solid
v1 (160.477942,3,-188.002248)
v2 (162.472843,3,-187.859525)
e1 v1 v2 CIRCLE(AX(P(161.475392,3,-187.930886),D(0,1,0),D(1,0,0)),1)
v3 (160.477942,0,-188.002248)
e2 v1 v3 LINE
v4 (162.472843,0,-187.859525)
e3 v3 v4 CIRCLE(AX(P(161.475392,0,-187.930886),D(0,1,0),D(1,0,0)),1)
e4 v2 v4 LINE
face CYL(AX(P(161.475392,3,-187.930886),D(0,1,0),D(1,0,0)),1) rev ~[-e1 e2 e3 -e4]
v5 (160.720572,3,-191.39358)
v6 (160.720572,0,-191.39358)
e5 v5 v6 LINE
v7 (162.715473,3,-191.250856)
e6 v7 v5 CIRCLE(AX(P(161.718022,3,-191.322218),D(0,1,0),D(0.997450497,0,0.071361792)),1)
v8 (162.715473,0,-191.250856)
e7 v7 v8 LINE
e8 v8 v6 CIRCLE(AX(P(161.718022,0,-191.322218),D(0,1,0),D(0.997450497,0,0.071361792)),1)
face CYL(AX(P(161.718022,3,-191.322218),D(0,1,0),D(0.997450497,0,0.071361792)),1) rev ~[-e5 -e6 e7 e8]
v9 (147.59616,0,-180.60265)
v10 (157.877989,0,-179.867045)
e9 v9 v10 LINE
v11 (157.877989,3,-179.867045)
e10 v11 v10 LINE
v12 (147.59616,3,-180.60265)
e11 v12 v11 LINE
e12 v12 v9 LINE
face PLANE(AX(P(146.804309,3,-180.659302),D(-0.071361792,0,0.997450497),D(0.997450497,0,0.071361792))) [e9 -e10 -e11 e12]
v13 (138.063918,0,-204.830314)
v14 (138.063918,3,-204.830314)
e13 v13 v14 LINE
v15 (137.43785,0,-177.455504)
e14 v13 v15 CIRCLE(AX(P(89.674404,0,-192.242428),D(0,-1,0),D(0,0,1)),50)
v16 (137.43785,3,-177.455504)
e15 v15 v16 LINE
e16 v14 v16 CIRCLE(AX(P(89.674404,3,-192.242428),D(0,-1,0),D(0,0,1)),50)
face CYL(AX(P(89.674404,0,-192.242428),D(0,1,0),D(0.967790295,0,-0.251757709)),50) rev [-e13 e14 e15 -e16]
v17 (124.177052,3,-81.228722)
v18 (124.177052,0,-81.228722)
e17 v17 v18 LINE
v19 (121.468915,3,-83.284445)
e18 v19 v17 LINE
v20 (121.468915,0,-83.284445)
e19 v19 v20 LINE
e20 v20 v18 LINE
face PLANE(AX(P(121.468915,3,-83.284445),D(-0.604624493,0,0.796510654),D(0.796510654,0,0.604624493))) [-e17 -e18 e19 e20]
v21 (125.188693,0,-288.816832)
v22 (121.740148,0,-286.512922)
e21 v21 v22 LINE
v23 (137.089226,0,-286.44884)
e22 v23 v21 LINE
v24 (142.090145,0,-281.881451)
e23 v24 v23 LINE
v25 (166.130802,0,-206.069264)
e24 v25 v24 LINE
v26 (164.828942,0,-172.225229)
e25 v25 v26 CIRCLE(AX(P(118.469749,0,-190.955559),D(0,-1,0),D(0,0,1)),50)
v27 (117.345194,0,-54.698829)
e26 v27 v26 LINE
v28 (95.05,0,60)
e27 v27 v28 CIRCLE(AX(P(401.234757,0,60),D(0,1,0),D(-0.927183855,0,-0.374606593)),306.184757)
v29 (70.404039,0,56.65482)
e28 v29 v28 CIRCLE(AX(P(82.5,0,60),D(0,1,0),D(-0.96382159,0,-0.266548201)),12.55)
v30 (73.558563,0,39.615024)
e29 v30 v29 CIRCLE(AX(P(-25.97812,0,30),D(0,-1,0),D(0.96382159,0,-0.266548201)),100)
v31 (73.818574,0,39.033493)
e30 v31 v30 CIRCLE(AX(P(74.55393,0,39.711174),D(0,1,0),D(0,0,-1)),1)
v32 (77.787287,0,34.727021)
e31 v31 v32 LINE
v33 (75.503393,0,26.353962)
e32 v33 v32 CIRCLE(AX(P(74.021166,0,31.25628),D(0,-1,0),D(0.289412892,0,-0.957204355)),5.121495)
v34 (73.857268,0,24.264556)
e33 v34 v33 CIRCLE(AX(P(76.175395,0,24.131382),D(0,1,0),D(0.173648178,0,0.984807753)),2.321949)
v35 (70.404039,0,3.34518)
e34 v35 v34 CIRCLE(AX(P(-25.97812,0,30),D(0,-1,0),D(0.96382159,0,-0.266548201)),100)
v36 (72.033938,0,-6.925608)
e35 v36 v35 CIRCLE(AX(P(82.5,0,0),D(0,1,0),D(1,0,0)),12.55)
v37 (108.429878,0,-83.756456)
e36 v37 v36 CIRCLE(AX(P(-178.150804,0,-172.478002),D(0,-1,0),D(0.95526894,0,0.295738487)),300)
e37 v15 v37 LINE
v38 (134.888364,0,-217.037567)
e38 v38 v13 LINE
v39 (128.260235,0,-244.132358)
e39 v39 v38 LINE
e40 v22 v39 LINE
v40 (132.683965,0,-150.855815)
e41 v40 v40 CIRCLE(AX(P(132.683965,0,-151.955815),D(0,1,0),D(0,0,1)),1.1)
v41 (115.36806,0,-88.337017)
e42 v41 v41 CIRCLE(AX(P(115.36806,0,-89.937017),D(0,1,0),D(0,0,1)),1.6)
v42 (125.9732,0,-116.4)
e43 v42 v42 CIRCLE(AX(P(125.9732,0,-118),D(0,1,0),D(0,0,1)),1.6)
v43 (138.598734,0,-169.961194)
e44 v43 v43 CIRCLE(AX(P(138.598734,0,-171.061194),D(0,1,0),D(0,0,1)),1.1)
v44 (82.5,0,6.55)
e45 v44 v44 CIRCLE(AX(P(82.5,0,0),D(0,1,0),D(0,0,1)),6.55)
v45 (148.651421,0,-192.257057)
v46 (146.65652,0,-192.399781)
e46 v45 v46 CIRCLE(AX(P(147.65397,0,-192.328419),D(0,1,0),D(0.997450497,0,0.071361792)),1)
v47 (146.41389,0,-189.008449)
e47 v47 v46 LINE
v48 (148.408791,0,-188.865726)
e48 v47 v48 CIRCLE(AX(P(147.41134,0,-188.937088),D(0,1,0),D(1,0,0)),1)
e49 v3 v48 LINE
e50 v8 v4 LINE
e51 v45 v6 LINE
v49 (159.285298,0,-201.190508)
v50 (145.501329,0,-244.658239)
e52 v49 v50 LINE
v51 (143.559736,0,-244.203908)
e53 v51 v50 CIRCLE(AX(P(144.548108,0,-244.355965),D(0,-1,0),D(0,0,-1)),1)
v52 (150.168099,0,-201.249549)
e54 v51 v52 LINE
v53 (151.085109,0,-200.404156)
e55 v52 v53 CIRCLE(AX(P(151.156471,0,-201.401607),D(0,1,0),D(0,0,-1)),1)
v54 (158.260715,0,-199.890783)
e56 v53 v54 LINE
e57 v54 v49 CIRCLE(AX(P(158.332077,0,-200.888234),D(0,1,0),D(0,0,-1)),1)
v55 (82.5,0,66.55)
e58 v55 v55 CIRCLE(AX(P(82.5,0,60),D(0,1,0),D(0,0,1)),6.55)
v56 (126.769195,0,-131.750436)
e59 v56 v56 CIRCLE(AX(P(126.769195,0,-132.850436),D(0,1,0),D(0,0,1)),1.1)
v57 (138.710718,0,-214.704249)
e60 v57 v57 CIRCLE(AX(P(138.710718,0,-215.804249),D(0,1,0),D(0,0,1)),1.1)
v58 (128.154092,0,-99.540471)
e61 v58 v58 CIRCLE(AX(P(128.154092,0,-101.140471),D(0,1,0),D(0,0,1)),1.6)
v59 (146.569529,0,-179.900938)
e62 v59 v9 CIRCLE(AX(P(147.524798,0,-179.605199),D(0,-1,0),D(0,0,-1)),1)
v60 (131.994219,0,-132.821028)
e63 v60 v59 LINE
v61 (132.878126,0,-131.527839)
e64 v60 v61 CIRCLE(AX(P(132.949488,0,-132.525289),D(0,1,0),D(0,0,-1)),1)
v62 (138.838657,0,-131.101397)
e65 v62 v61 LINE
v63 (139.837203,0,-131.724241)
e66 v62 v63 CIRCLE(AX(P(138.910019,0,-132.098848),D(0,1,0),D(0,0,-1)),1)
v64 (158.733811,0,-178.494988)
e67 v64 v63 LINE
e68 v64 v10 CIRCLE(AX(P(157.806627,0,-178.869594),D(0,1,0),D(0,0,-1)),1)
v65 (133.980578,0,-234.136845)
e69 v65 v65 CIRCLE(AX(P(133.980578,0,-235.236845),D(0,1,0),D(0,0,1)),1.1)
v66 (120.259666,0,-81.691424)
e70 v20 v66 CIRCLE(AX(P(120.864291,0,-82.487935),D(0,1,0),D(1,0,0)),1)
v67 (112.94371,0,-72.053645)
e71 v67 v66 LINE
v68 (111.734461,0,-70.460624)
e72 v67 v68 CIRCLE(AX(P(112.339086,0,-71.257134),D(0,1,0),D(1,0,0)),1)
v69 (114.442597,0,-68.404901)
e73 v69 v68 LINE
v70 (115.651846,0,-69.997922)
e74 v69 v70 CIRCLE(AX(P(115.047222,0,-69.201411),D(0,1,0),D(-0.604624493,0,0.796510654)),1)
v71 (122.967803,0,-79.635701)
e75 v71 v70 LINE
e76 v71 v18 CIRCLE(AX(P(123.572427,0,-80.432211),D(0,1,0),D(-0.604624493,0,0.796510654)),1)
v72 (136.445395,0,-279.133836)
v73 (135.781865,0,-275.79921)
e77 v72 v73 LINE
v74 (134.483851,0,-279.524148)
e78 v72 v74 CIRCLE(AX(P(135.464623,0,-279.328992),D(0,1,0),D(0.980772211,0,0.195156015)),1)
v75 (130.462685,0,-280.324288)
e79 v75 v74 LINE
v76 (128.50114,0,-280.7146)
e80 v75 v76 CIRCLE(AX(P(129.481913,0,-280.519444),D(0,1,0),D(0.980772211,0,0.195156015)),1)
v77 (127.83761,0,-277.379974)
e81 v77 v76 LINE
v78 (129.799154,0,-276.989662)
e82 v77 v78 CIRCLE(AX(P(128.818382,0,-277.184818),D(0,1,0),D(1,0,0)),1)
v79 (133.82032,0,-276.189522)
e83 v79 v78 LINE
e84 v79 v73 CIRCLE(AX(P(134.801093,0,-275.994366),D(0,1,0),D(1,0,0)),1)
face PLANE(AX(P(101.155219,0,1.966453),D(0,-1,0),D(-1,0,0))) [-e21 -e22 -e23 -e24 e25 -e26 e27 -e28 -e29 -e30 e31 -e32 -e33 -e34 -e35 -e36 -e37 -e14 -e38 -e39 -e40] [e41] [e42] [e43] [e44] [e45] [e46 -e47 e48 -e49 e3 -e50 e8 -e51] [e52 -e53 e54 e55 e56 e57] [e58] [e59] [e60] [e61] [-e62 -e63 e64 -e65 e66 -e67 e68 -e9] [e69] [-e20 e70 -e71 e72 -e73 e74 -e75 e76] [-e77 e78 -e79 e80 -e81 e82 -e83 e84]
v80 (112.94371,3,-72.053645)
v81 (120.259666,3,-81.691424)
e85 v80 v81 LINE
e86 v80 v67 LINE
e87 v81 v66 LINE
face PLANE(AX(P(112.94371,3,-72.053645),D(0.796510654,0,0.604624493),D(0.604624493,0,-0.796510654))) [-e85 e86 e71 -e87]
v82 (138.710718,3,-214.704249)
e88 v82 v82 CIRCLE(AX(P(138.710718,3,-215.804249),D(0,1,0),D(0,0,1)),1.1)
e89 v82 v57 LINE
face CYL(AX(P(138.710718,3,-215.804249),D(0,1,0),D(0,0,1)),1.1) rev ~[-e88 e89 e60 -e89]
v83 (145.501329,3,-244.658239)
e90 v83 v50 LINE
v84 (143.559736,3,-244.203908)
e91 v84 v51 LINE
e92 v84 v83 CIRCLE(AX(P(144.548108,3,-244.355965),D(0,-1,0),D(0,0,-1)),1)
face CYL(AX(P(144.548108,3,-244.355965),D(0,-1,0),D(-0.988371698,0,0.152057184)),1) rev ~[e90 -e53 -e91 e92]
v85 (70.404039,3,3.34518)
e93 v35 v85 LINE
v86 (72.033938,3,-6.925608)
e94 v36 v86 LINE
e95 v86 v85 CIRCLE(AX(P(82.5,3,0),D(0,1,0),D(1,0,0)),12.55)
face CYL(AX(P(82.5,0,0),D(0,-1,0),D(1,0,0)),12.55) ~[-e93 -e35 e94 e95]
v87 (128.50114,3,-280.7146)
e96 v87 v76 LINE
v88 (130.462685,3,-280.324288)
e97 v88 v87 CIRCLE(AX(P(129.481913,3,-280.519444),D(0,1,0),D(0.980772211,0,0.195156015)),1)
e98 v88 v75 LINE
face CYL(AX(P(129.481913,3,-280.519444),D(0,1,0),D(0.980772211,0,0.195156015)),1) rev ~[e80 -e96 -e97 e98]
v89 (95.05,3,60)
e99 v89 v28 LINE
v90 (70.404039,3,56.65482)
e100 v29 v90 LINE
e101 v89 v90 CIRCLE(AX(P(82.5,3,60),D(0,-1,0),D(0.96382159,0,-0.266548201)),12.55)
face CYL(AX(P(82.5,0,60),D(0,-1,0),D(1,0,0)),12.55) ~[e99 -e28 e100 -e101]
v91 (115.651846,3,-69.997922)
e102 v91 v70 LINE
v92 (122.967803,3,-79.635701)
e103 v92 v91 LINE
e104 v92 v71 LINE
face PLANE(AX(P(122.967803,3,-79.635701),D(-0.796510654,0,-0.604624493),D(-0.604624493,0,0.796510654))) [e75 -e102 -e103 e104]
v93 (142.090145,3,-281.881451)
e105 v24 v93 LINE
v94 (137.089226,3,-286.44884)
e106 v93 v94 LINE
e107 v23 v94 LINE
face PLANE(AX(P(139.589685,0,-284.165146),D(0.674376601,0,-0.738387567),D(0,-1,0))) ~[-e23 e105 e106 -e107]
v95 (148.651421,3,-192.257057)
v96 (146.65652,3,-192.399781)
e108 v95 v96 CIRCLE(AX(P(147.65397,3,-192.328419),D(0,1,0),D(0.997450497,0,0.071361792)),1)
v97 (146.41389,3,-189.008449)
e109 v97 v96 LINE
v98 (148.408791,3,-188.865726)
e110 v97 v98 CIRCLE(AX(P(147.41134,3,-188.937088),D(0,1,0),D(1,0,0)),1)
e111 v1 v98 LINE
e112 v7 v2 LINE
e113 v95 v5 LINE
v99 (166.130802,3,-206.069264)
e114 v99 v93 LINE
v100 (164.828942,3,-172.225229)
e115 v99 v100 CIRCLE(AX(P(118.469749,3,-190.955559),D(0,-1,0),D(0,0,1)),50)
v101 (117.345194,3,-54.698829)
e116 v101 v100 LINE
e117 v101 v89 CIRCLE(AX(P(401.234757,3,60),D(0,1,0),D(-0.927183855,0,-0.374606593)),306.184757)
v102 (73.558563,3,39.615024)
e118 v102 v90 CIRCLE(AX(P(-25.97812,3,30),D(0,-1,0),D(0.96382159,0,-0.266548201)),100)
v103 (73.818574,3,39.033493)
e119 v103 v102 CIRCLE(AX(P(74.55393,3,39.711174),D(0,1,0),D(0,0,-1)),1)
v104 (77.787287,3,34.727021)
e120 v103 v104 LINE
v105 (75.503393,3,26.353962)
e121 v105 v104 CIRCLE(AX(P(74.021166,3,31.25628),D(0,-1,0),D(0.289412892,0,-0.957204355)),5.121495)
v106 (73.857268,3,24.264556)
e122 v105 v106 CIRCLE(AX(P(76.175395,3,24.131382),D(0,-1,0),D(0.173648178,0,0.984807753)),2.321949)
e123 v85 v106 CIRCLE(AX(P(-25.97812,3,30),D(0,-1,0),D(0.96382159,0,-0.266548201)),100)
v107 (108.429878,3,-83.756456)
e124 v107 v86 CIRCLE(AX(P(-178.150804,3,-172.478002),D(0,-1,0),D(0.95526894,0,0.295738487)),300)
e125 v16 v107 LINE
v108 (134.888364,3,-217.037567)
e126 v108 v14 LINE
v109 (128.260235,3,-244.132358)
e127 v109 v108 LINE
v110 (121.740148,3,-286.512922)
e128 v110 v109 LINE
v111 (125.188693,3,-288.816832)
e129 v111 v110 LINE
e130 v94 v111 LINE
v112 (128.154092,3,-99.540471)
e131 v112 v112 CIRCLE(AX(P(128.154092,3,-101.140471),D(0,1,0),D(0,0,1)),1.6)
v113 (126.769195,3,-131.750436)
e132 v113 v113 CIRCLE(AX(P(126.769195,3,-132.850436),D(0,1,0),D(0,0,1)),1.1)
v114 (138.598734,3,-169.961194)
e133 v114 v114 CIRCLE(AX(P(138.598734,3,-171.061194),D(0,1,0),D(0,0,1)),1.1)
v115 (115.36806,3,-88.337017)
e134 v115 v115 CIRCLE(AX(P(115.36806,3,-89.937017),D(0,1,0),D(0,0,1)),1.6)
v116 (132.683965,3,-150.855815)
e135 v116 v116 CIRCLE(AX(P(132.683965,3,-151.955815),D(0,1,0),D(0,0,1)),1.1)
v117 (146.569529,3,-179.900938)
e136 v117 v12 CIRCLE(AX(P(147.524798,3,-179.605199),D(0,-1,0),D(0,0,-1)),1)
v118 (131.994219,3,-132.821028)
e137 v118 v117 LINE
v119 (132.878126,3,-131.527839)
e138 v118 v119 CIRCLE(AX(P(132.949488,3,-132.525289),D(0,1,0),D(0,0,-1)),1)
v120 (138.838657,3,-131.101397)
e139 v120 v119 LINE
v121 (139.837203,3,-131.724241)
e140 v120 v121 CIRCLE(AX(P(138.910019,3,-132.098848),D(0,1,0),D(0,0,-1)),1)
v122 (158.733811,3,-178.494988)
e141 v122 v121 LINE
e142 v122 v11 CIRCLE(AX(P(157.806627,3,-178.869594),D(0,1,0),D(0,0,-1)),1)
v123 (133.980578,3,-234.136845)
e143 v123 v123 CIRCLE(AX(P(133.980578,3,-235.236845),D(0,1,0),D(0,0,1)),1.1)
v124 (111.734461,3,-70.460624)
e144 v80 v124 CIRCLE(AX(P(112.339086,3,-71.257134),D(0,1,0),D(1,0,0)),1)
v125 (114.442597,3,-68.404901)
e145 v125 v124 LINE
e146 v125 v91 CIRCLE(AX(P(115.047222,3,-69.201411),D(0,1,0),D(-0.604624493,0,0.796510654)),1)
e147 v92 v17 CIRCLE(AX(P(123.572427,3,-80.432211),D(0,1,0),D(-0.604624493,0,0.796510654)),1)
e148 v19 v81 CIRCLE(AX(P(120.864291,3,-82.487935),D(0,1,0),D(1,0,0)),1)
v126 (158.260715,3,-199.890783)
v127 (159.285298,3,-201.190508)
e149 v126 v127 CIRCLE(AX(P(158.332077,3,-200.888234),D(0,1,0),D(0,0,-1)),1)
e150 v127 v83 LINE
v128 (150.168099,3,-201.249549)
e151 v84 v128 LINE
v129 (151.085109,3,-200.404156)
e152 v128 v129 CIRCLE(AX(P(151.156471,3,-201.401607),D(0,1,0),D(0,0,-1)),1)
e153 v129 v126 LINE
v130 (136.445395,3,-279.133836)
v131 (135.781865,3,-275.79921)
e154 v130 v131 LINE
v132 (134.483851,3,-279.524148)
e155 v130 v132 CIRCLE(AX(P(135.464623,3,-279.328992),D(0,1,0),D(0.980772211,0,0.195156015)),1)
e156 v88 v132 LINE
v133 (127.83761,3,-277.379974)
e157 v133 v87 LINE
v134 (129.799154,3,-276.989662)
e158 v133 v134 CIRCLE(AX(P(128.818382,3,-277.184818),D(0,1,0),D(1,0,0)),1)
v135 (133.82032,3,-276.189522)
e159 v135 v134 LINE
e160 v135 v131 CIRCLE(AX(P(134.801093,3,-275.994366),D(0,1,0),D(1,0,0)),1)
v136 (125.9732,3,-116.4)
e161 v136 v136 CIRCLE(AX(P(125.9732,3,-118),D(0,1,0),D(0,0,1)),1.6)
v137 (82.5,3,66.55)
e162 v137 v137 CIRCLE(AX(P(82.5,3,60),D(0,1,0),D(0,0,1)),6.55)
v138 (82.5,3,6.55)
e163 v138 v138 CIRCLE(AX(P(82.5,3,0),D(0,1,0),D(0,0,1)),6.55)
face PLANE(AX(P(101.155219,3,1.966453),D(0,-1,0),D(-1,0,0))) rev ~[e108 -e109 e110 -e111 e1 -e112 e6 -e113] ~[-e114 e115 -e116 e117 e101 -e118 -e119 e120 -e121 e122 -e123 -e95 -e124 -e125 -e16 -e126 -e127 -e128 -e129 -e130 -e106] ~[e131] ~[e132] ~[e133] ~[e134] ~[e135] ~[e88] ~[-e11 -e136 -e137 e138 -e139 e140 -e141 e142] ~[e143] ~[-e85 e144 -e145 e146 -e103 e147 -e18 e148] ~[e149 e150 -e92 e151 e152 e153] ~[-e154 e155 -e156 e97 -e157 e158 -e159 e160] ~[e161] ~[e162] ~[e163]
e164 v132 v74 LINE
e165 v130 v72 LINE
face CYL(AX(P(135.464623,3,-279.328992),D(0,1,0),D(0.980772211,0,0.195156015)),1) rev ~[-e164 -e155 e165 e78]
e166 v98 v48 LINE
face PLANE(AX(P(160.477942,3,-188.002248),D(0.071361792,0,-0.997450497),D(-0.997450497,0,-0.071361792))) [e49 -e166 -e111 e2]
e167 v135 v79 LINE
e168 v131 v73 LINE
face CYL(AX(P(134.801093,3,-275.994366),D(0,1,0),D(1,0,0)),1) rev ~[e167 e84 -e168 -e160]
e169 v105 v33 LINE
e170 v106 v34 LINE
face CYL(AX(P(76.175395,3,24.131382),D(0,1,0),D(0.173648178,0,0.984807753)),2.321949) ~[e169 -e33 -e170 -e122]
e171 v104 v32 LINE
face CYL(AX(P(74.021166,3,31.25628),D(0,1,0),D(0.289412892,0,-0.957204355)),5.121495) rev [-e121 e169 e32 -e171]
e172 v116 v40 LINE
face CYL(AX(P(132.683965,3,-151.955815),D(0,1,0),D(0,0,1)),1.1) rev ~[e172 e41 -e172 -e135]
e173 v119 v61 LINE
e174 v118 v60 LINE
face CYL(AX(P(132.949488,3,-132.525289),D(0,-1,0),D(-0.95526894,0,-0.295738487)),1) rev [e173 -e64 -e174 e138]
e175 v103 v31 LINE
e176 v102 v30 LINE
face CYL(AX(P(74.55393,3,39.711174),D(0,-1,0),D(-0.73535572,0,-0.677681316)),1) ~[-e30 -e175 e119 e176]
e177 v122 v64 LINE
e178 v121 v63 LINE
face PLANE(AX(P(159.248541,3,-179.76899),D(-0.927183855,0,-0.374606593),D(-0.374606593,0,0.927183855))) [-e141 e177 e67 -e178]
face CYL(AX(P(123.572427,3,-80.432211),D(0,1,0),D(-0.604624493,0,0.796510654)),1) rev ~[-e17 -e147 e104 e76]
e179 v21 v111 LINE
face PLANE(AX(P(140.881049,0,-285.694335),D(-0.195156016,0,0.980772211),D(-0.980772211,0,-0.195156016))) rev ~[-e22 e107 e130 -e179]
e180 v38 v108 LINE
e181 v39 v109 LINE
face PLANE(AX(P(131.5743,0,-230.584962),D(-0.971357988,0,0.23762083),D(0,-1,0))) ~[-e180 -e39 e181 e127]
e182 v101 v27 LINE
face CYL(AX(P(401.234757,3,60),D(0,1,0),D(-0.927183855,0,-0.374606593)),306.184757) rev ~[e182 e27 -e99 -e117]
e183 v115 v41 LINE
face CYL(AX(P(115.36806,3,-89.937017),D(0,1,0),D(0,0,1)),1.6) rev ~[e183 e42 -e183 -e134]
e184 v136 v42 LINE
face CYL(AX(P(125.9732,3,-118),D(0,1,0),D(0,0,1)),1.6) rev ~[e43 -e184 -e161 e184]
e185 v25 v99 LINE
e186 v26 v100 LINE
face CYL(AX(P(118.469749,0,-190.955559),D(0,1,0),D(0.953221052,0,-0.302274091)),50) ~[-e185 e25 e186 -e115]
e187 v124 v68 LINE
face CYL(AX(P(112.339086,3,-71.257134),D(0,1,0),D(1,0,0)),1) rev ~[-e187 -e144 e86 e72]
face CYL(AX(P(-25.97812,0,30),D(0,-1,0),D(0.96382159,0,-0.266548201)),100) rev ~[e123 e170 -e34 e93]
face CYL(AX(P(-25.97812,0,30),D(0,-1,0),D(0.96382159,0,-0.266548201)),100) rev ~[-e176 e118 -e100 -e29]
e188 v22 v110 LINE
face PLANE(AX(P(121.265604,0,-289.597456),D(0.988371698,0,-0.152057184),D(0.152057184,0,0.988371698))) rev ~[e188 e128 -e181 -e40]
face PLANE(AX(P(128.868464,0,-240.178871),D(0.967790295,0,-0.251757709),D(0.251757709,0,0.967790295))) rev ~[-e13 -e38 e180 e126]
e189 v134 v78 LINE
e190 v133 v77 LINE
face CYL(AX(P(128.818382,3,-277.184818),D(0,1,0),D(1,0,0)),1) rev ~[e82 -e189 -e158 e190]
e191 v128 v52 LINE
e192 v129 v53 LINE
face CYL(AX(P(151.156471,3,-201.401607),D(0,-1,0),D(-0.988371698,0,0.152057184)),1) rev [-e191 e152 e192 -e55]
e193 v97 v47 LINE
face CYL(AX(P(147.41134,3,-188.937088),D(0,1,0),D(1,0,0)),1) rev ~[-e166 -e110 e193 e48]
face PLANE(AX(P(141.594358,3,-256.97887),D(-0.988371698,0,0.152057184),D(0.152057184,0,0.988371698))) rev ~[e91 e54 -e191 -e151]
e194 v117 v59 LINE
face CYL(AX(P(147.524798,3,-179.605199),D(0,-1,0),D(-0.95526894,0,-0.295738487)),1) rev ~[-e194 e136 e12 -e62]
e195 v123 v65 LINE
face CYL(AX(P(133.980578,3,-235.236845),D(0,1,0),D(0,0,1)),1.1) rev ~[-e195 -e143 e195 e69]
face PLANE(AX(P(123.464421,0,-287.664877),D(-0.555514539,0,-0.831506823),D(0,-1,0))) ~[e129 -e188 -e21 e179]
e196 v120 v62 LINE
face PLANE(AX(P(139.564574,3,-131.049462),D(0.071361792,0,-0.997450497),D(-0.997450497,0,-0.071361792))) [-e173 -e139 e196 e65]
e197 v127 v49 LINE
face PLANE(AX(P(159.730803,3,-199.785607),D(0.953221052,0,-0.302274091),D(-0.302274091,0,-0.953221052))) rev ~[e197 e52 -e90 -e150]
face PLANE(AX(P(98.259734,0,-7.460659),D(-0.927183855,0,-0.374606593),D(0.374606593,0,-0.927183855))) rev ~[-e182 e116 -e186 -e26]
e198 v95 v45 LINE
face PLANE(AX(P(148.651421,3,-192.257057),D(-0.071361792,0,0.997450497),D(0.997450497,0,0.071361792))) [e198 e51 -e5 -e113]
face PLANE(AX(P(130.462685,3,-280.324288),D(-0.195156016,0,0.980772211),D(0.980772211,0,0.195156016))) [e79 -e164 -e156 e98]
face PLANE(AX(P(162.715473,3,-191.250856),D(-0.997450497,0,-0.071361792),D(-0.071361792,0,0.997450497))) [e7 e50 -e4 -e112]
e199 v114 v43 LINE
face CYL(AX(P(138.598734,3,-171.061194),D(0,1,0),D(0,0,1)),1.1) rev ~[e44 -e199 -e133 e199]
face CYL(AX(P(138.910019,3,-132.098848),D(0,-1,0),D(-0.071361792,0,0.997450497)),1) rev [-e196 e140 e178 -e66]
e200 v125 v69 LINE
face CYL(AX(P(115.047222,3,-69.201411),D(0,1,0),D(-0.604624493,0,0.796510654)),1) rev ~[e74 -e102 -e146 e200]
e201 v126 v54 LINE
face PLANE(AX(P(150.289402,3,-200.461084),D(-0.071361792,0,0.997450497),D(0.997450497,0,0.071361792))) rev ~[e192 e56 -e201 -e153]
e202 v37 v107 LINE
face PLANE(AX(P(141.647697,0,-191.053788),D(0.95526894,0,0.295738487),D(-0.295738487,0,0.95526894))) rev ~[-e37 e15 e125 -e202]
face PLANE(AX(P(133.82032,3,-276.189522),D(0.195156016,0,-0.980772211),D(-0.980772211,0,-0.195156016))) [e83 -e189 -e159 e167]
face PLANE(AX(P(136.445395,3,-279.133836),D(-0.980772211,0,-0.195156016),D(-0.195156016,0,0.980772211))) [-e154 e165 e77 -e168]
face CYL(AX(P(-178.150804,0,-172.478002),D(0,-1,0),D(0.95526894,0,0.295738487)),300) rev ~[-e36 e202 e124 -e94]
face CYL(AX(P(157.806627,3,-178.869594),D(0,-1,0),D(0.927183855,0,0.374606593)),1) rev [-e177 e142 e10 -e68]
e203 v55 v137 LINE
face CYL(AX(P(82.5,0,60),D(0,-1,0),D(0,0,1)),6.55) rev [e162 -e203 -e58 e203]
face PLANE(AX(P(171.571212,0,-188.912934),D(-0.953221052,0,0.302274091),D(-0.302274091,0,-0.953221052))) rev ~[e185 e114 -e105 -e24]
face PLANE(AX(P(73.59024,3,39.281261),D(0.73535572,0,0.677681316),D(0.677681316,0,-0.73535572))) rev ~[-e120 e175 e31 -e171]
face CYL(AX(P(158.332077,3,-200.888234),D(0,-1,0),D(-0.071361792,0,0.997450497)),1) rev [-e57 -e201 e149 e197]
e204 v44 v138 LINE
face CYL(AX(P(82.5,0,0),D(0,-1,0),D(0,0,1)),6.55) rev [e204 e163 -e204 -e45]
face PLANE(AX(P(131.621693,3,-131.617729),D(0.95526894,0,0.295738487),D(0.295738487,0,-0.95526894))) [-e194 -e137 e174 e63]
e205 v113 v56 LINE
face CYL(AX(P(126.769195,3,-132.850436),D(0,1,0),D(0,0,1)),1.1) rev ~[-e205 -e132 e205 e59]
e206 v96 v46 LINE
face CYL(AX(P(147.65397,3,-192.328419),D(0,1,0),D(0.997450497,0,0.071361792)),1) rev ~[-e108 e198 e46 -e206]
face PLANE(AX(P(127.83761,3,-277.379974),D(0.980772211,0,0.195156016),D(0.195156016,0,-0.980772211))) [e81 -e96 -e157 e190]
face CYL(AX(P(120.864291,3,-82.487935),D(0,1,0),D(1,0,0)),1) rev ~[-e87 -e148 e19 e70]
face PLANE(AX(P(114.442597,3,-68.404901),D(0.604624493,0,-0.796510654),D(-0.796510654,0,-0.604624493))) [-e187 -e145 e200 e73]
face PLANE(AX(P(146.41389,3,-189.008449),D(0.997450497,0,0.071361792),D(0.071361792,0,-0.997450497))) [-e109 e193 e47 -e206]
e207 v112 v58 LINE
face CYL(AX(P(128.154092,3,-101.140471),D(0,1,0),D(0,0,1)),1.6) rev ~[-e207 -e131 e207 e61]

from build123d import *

# Parameters (mm, degrees)
SKETCH_3_R          = 12.55
SKETCH_3_R_2        = 6.55
EXTRUDE_1_DEPTH     = 3
CUT_EXTRUDE_3_DEPTH = 337.61902384
EXTRUDE_2_DEPTH     = 3
CHAMFER_1_SIZE      = 4
CHAMFER_1_SIZE2     = 3.120824035
CHAMFER_2_SIZE      = 4
CHAMFER_2_SIZE2     = 3.866160824
CHAMFER_3_SIZE      = 4
CHAMFER_3_SIZE2     = 23.911485469
SKETCH_8_R          = 1
CUT_EXTRUDE_4_DEPTH = 336.947679111
SKETCH_9_R          = 1.1
SKETCH_9_R_2        = 1.6
CUT_EXTRUDE_5_DEPTH = 336.947679111
FILLET_1_R          = 50
CUT_EXTRUDE_6_DEPTH = 335.374368924
FILLET_2_R          = 1
FILLET_3_R          = 1
EXTRUDE_3_DEPTH     = 3


with BuildPart() as part:
    # 草图3 → 凸台-拉伸1 (new body)
    # profile 1 of 4: a face of its own
    with BuildSketch(Plane(origin=(0, 0, 0), x_dir=(1, 0, 0), z_dir=(0, 1, 0))):
        with BuildLine():
            Line((121.265604443, 289.597455686), (128.868463655, 240.178870804))
            Line((128.868463655, 240.178870804), (141.647697325, 191.053787979))
            Line((141.647697325, 191.053787979), (108.429878461, 83.756455888))
            ThreePointArc((108.429878461, 83.756455888), (92.967297732, 44.045236663), (72.033938301, 6.925608458))
            ThreePointArc((72.033938301, 6.925608458), (86.116173784, 12.017728037), (95.05, 0))
            ThreePointArc((95.05, 0), (94.935972216, -1.687926254), (94.59596095, -3.34517992))
            ThreePointArc((94.59596095, -3.34517992), (96.273603044, 2.110037129), (98.259734457, 7.460659342))
            Line((98.259734457, 7.460659342), (171.571212245, 188.912934219))
            Line((171.571212245, 188.912934219), (140.881048659, 285.694335372))
            Line((140.881048659, 285.694335372), (121.265604443, 289.597455686))
        make_face()
    # profile 2 of 4: a face of its own
    with BuildSketch(Plane(origin=(0, 0, 0), x_dir=(1, 0, 0), z_dir=(0, 1, 0))):
        with Locations((82.5, 0)):
            Circle(SKETCH_3_R)
        with Locations(Location((82.5, 0, 0), (0, 0, 270))):
            Circle(SKETCH_3_R_2, mode=Mode.SUBTRACT)
    # profile 3 of 4: a face of its own
    with BuildSketch(Plane(origin=(0, 0, 0), x_dir=(1, 0, 0), z_dir=(0, 1, 0))):
        with BuildLine():
            ThreePointArc((94.59596095, -3.34517992), (82.5, -12.55), (70.40403905, -3.34517992))
            ThreePointArc((70.40403905, -3.34517992), (74.021880086, -30), (70.40403905, -56.65482008))
            ThreePointArc((70.40403905, -56.65482008), (82.5, -47.45), (94.59596095, -56.65482008))
            ThreePointArc((94.59596095, -56.65482008), (90.978119914, -30), (94.59596095, -3.34517992))
        make_face()
    # profile 4 of 4: a face of its own
    with BuildSketch(Plane(origin=(0, 0, 0), x_dir=(1, 0, 0), z_dir=(0, 1, 0))):
        with Locations((82.5, -60)):
            Circle(SKETCH_3_R)
        with Locations(Location((82.5, -60, 0), (0, 0, 270))):
            Circle(SKETCH_3_R_2, mode=Mode.SUBTRACT)
    extrude(amount=EXTRUDE_1_DEPTH)

    # 草图7 → 切除-拉伸3 (cut, through all)
    with BuildSketch(Plane(origin=(0, 3, 0), x_dir=(1, 0, 0), z_dir=(0, 1, 0))):
        with BuildLine():
            ThreePointArc((78.002512198, -34.493479197), (80.195428175, -33.349158141), (81.33105467, -31.151726999))
            ThreePointArc((81.33105467, -31.151726999), (81.29055467, -30.45576741), (81.33105467, -29.75980782))
            ThreePointArc((81.33105467, -29.75980782), (79.648864591, -27.101907795), (76.578597142, -26.418055622))
            ThreePointArc((76.578597142, -26.418055622), (74.734518785, -25.952185157), (73.857268025, -24.264556235))
            ThreePointArc((73.857268025, -24.264556235), (74.006073686, -31.777928612), (73.590239535, -39.281260509))
            Line((73.590239535, -39.281260509), (78.002512198, -34.493479197))
        make_face()
    extrude(amount=-CUT_EXTRUDE_3_DEPTH, mode=Mode.SUBTRACT)

    # 草图7<3> → 凸台-拉伸2 (add)
    with BuildSketch(Plane(origin=(0, 3, 0), x_dir=(1, 0, 0), z_dir=(0, 1, 0))):
        with BuildLine():
            ThreePointArc((91.066651947, -25.793033303), (90.979085958, -30.43955416), (91.10749612, -35.085125677))
            ThreePointArc((91.10749612, -35.085125677), (91.947297407, -34.239250868), (92.603316411, -33.24405769))
            ThreePointArc((92.603316411, -33.24405769), (93.116212163, -31.891634666), (93.29055467, -30.45576741))
            ThreePointArc((93.29055467, -30.45576741), (92.937299887, -28.427401453), (91.919131852, -26.637878821))
            ThreePointArc((91.919131852, -26.637878821), (91.514069696, -26.194086893), (91.066651947, -25.793033303))
        make_face()
        with BuildLine():
            ThreePointArc((92.603316411, -33.24405769), (91.947297407, -34.239250868), (91.10749612, -35.085125677))
            ThreePointArc((91.10749612, -35.085125677), (91.236559388, -37.184782804), (91.409760465, -39.281260509))
            ThreePointArc((91.409760465, -39.281260509), (91.568630527, -36.176084637), (92.603316411, -33.24405769))
        make_face()
        with BuildLine():
            ThreePointArc((91.142731975, -24.264556235), (91.101768, -25.028649229), (91.066651947, -25.793033303))
            ThreePointArc((91.066651947, -25.793033303), (91.514069696, -26.194086893), (91.919131852, -26.637878821))
            ThreePointArc((91.919131852, -26.637878821), (91.306680236, -25.524578384), (91.142731975, -24.264556235))
        make_face()
    extrude(amount=-EXTRUDE_2_DEPTH)

    # 倒角1
    chamfer_1_edges = [part.edges().sort_by_distance(p)[0] for p in [
        (121.265604443, 1.5, -289.597455686),
    ]]
    chamfer_1_side = [part.faces().sort_by_distance(p)[0] for p in [
        (131.073326551, 1.5, -287.645895529),
    ]]
    chamfer(chamfer_1_edges, length=CHAMFER_1_SIZE, length2=CHAMFER_1_SIZE2, reference=chamfer_1_side[0])

    # 倒角2
    chamfer_2_edges = [part.edges().sort_by_distance(p)[0] for p in [
        (140.881048659, 1.5, -285.694335372),
    ]]
    chamfer_2_side = [part.faces().sort_by_distance(p)[0] for p in [
        (156.226130452, 1.5, -237.303634796),
    ]]
    chamfer(chamfer_2_edges, length=CHAMFER_2_SIZE, length2=CHAMFER_2_SIZE2, reference=chamfer_2_side[0])

    # 倒角3
    chamfer_3_edges = [part.edges().sort_by_distance(p)[0] for p in [
        (128.868463655, 1.5, -240.178870804),
    ]]
    chamfer_3_side = [part.faces().sort_by_distance(p)[0] for p in [
        (125.304305907, 1.5, -263.34589617),
    ]]
    chamfer(chamfer_3_edges, length=CHAMFER_3_SIZE, length2=CHAMFER_3_SIZE2, reference=chamfer_3_side[0])

    # 草图8 → 切除-拉伸4 (cut, through all)
    with BuildSketch(Plane(origin=(0, 3, 0), x_dir=(1, 0, 0), z_dir=(0, 1, 0))):
        with Locations((129.481912621, 280.519443616)):
            Circle(SKETCH_8_R)
        with Locations((135.464623107, 279.32899192)):
            Circle(SKETCH_8_R)
        with Locations((128.818382167, 277.184818099)):
            Circle(SKETCH_8_R)
        with Locations((134.801092653, 275.994366404)):
            Circle(SKETCH_8_R)
        with Locations((147.653970306, 192.328419252)):
            Circle(SKETCH_8_R)
        with Locations((147.411340213, 188.937087561)):
            Circle(SKETCH_8_R)
        with Locations((161.718022318, 191.322217985)):
            Circle(SKETCH_8_R)
        with Locations((161.475392225, 187.930886294)):
            Circle(SKETCH_8_R)
        with Locations((112.339085524, 71.25713446)):
            Circle(SKETCH_8_R)
        with Locations((115.047221748, 69.201411183)):
            Circle(SKETCH_8_R)
        with Locations((120.86429088, 82.487934683)):
            Circle(SKETCH_8_R)
        with Locations((123.572427104, 80.432211406)):
            Circle(SKETCH_8_R)
        Polygon((128.50114041, 280.714599632), (136.445395318, 279.133835905), (135.781864864, 275.799210388), (127.837609957, 277.379974115), align=None)
        Polygon((146.656519808, 192.399781044), (162.715472815, 191.250856193), (162.472842723, 187.859524502), (146.413889715, 189.008449353), align=None)
        Polygon((111.734461031, 70.460623806), (121.468915373, 83.284445337), (124.177051597, 81.22872206), (114.442597255, 68.404900529), align=None)
    extrude(amount=-CUT_EXTRUDE_4_DEPTH, mode=Mode.SUBTRACT)

    # 草图9 → 切除-拉伸5 (cut, through all)
    with BuildSketch(Plane(origin=(0, 3, 0), x_dir=(1, 0, 0), z_dir=(0, 1, 0))):
        with Locations(Location((133.980578042, 235.236844896, 0), (0, 0, 270))):
            Circle(SKETCH_9_R)
        with Locations(Location((138.710717702, 215.804249115, 0), (0, 0, 270))):
            Circle(SKETCH_9_R)
        with Locations(Location((138.598734412, 171.061193721, 0), (0, 0, 270))):
            Circle(SKETCH_9_R)
        with Locations(Location((132.68396468, 151.955814923, 0), (0, 0, 270))):
            Circle(SKETCH_9_R)
        with Locations(Location((126.769194947, 132.850436126, 0), (0, 0, 270))):
            Circle(SKETCH_9_R)
        with Locations(Location((125.973199927, 118, 0), (0, 0, 270))):
            Circle(SKETCH_9_R_2)
        with Locations(Location((115.368060475, 89.937016958, 0), (0, 0, 270))):
            Circle(SKETCH_9_R_2)
        with Locations(Location((128.154092345, 101.140471292, 0), (0, 0, 270))):
            Circle(SKETCH_9_R_2)
    extrude(amount=-CUT_EXTRUDE_5_DEPTH, mode=Mode.SUBTRACT)

    # 圆角1
    fillet_1_edges = [part.edges().sort_by_distance(p)[0] for p in [
        (141.647697325, 1.5, -191.053787979),
        (171.571212245, 1.5, -188.912934219),
    ]]
    fillet(fillet_1_edges, radius=FILLET_1_R)

    # 草图11 → 切除-拉伸6 (cut, through all)
    with BuildSketch(Plane(origin=(0, 3, 0), x_dir=(1, 0, 0), z_dir=(0, 1, 0))):
        Polygon((141.594357666, 256.978870067), (150.289401614, 200.461084402), (159.730803103, 199.785606942), align=None)
        Polygon((146.804308515, 180.659302195), (159.248540878, 179.768989619), (139.564574089, 131.049462198), (131.621693467, 131.617729191), align=None)
    extrude(amount=-CUT_EXTRUDE_6_DEPTH, mode=Mode.SUBTRACT)

    # 圆角2
    fillet_2_edges = [part.edges().sort_by_distance(p)[0] for p in [
        (159.730803103, 1.5, -199.785606942),
        (150.289401614, 1.5, -200.461084402),
        (131.621693467, 1.5, -131.617729191),
        (146.804308515, 1.5, -180.659302195),
        (159.248540878, 1.5, -179.768989619),
        (139.564574089, 1.5, -131.049462198),
        (73.590239535, 1.5, 39.281260509),
        (78.002512198, 1.5, 34.493479197),
    ]]
    fillet(fillet_2_edges, radius=FILLET_2_R)

    # 圆角3
    fillet_3_edges = [part.edges().sort_by_distance(p)[0] for p in [
        (141.594357666, 1.5, -256.978870067),
    ]]
    fillet(fillet_3_edges, radius=FILLET_3_R)

    # 草图12 → 凸台-拉伸3 (add)
    with BuildSketch(Plane(origin=(0, 3, 0), x_dir=(1, 0, 0), z_dir=(0, 1, 0))):
        with BuildLine():
            Line((98.259734457, 7.460659342), (117.34519382, 54.698828901))
            ThreePointArc((117.34519382, 54.698828901), (100.675476378, -1.577194053), (95.05, -60))
            ThreePointArc((95.05, -60), (94.935972216, -58.312073746), (94.59596095, -56.65482008))
            ThreePointArc((94.59596095, -56.65482008), (92.618516623, -48.038526559), (91.409760465, -39.281260509))
            ThreePointArc((91.409760465, -39.281260509), (91.568630527, -36.176084637), (92.603316411, -33.24405769))
            ThreePointArc((92.603316411, -33.24405769), (93.258632644, -29.837669281), (91.919131852, -26.637878821))
            ThreePointArc((91.919131852, -26.637878821), (91.306680236, -25.524578384), (91.142731975, -24.264556235))
            ThreePointArc((91.142731975, -24.264556235), (93.403219258, -8.110761503), (98.259734457, 7.460659342))
        make_face()
        with BuildLine():
            ThreePointArc((81.33105467, -29.75980782), (79.648864591, -27.101907795), (76.578597142, -26.418055622))
            ThreePointArc((76.578597142, -26.418055622), (76.037227153, -26.449216759), (75.503392909, -26.353961938))
            ThreePointArc((75.503392909, -26.353961938), (78.962149718, -29.908542384), (77.787287008, -34.727021234))
            ThreePointArc((77.787287008, -34.727021234), (78.012719423, -34.54448268), (78.281056834, -34.43432311))
            ThreePointArc((78.281056834, -34.43432311), (80.294153345, -33.246537017), (81.33105467, -31.151726999))
            ThreePointArc((81.33105467, -31.151726999), (81.29055467, -30.45576741), (81.33105467, -29.75980782))
        make_face()
    extrude(amount=-EXTRUDE_3_DEPTH)


solid = part.part
